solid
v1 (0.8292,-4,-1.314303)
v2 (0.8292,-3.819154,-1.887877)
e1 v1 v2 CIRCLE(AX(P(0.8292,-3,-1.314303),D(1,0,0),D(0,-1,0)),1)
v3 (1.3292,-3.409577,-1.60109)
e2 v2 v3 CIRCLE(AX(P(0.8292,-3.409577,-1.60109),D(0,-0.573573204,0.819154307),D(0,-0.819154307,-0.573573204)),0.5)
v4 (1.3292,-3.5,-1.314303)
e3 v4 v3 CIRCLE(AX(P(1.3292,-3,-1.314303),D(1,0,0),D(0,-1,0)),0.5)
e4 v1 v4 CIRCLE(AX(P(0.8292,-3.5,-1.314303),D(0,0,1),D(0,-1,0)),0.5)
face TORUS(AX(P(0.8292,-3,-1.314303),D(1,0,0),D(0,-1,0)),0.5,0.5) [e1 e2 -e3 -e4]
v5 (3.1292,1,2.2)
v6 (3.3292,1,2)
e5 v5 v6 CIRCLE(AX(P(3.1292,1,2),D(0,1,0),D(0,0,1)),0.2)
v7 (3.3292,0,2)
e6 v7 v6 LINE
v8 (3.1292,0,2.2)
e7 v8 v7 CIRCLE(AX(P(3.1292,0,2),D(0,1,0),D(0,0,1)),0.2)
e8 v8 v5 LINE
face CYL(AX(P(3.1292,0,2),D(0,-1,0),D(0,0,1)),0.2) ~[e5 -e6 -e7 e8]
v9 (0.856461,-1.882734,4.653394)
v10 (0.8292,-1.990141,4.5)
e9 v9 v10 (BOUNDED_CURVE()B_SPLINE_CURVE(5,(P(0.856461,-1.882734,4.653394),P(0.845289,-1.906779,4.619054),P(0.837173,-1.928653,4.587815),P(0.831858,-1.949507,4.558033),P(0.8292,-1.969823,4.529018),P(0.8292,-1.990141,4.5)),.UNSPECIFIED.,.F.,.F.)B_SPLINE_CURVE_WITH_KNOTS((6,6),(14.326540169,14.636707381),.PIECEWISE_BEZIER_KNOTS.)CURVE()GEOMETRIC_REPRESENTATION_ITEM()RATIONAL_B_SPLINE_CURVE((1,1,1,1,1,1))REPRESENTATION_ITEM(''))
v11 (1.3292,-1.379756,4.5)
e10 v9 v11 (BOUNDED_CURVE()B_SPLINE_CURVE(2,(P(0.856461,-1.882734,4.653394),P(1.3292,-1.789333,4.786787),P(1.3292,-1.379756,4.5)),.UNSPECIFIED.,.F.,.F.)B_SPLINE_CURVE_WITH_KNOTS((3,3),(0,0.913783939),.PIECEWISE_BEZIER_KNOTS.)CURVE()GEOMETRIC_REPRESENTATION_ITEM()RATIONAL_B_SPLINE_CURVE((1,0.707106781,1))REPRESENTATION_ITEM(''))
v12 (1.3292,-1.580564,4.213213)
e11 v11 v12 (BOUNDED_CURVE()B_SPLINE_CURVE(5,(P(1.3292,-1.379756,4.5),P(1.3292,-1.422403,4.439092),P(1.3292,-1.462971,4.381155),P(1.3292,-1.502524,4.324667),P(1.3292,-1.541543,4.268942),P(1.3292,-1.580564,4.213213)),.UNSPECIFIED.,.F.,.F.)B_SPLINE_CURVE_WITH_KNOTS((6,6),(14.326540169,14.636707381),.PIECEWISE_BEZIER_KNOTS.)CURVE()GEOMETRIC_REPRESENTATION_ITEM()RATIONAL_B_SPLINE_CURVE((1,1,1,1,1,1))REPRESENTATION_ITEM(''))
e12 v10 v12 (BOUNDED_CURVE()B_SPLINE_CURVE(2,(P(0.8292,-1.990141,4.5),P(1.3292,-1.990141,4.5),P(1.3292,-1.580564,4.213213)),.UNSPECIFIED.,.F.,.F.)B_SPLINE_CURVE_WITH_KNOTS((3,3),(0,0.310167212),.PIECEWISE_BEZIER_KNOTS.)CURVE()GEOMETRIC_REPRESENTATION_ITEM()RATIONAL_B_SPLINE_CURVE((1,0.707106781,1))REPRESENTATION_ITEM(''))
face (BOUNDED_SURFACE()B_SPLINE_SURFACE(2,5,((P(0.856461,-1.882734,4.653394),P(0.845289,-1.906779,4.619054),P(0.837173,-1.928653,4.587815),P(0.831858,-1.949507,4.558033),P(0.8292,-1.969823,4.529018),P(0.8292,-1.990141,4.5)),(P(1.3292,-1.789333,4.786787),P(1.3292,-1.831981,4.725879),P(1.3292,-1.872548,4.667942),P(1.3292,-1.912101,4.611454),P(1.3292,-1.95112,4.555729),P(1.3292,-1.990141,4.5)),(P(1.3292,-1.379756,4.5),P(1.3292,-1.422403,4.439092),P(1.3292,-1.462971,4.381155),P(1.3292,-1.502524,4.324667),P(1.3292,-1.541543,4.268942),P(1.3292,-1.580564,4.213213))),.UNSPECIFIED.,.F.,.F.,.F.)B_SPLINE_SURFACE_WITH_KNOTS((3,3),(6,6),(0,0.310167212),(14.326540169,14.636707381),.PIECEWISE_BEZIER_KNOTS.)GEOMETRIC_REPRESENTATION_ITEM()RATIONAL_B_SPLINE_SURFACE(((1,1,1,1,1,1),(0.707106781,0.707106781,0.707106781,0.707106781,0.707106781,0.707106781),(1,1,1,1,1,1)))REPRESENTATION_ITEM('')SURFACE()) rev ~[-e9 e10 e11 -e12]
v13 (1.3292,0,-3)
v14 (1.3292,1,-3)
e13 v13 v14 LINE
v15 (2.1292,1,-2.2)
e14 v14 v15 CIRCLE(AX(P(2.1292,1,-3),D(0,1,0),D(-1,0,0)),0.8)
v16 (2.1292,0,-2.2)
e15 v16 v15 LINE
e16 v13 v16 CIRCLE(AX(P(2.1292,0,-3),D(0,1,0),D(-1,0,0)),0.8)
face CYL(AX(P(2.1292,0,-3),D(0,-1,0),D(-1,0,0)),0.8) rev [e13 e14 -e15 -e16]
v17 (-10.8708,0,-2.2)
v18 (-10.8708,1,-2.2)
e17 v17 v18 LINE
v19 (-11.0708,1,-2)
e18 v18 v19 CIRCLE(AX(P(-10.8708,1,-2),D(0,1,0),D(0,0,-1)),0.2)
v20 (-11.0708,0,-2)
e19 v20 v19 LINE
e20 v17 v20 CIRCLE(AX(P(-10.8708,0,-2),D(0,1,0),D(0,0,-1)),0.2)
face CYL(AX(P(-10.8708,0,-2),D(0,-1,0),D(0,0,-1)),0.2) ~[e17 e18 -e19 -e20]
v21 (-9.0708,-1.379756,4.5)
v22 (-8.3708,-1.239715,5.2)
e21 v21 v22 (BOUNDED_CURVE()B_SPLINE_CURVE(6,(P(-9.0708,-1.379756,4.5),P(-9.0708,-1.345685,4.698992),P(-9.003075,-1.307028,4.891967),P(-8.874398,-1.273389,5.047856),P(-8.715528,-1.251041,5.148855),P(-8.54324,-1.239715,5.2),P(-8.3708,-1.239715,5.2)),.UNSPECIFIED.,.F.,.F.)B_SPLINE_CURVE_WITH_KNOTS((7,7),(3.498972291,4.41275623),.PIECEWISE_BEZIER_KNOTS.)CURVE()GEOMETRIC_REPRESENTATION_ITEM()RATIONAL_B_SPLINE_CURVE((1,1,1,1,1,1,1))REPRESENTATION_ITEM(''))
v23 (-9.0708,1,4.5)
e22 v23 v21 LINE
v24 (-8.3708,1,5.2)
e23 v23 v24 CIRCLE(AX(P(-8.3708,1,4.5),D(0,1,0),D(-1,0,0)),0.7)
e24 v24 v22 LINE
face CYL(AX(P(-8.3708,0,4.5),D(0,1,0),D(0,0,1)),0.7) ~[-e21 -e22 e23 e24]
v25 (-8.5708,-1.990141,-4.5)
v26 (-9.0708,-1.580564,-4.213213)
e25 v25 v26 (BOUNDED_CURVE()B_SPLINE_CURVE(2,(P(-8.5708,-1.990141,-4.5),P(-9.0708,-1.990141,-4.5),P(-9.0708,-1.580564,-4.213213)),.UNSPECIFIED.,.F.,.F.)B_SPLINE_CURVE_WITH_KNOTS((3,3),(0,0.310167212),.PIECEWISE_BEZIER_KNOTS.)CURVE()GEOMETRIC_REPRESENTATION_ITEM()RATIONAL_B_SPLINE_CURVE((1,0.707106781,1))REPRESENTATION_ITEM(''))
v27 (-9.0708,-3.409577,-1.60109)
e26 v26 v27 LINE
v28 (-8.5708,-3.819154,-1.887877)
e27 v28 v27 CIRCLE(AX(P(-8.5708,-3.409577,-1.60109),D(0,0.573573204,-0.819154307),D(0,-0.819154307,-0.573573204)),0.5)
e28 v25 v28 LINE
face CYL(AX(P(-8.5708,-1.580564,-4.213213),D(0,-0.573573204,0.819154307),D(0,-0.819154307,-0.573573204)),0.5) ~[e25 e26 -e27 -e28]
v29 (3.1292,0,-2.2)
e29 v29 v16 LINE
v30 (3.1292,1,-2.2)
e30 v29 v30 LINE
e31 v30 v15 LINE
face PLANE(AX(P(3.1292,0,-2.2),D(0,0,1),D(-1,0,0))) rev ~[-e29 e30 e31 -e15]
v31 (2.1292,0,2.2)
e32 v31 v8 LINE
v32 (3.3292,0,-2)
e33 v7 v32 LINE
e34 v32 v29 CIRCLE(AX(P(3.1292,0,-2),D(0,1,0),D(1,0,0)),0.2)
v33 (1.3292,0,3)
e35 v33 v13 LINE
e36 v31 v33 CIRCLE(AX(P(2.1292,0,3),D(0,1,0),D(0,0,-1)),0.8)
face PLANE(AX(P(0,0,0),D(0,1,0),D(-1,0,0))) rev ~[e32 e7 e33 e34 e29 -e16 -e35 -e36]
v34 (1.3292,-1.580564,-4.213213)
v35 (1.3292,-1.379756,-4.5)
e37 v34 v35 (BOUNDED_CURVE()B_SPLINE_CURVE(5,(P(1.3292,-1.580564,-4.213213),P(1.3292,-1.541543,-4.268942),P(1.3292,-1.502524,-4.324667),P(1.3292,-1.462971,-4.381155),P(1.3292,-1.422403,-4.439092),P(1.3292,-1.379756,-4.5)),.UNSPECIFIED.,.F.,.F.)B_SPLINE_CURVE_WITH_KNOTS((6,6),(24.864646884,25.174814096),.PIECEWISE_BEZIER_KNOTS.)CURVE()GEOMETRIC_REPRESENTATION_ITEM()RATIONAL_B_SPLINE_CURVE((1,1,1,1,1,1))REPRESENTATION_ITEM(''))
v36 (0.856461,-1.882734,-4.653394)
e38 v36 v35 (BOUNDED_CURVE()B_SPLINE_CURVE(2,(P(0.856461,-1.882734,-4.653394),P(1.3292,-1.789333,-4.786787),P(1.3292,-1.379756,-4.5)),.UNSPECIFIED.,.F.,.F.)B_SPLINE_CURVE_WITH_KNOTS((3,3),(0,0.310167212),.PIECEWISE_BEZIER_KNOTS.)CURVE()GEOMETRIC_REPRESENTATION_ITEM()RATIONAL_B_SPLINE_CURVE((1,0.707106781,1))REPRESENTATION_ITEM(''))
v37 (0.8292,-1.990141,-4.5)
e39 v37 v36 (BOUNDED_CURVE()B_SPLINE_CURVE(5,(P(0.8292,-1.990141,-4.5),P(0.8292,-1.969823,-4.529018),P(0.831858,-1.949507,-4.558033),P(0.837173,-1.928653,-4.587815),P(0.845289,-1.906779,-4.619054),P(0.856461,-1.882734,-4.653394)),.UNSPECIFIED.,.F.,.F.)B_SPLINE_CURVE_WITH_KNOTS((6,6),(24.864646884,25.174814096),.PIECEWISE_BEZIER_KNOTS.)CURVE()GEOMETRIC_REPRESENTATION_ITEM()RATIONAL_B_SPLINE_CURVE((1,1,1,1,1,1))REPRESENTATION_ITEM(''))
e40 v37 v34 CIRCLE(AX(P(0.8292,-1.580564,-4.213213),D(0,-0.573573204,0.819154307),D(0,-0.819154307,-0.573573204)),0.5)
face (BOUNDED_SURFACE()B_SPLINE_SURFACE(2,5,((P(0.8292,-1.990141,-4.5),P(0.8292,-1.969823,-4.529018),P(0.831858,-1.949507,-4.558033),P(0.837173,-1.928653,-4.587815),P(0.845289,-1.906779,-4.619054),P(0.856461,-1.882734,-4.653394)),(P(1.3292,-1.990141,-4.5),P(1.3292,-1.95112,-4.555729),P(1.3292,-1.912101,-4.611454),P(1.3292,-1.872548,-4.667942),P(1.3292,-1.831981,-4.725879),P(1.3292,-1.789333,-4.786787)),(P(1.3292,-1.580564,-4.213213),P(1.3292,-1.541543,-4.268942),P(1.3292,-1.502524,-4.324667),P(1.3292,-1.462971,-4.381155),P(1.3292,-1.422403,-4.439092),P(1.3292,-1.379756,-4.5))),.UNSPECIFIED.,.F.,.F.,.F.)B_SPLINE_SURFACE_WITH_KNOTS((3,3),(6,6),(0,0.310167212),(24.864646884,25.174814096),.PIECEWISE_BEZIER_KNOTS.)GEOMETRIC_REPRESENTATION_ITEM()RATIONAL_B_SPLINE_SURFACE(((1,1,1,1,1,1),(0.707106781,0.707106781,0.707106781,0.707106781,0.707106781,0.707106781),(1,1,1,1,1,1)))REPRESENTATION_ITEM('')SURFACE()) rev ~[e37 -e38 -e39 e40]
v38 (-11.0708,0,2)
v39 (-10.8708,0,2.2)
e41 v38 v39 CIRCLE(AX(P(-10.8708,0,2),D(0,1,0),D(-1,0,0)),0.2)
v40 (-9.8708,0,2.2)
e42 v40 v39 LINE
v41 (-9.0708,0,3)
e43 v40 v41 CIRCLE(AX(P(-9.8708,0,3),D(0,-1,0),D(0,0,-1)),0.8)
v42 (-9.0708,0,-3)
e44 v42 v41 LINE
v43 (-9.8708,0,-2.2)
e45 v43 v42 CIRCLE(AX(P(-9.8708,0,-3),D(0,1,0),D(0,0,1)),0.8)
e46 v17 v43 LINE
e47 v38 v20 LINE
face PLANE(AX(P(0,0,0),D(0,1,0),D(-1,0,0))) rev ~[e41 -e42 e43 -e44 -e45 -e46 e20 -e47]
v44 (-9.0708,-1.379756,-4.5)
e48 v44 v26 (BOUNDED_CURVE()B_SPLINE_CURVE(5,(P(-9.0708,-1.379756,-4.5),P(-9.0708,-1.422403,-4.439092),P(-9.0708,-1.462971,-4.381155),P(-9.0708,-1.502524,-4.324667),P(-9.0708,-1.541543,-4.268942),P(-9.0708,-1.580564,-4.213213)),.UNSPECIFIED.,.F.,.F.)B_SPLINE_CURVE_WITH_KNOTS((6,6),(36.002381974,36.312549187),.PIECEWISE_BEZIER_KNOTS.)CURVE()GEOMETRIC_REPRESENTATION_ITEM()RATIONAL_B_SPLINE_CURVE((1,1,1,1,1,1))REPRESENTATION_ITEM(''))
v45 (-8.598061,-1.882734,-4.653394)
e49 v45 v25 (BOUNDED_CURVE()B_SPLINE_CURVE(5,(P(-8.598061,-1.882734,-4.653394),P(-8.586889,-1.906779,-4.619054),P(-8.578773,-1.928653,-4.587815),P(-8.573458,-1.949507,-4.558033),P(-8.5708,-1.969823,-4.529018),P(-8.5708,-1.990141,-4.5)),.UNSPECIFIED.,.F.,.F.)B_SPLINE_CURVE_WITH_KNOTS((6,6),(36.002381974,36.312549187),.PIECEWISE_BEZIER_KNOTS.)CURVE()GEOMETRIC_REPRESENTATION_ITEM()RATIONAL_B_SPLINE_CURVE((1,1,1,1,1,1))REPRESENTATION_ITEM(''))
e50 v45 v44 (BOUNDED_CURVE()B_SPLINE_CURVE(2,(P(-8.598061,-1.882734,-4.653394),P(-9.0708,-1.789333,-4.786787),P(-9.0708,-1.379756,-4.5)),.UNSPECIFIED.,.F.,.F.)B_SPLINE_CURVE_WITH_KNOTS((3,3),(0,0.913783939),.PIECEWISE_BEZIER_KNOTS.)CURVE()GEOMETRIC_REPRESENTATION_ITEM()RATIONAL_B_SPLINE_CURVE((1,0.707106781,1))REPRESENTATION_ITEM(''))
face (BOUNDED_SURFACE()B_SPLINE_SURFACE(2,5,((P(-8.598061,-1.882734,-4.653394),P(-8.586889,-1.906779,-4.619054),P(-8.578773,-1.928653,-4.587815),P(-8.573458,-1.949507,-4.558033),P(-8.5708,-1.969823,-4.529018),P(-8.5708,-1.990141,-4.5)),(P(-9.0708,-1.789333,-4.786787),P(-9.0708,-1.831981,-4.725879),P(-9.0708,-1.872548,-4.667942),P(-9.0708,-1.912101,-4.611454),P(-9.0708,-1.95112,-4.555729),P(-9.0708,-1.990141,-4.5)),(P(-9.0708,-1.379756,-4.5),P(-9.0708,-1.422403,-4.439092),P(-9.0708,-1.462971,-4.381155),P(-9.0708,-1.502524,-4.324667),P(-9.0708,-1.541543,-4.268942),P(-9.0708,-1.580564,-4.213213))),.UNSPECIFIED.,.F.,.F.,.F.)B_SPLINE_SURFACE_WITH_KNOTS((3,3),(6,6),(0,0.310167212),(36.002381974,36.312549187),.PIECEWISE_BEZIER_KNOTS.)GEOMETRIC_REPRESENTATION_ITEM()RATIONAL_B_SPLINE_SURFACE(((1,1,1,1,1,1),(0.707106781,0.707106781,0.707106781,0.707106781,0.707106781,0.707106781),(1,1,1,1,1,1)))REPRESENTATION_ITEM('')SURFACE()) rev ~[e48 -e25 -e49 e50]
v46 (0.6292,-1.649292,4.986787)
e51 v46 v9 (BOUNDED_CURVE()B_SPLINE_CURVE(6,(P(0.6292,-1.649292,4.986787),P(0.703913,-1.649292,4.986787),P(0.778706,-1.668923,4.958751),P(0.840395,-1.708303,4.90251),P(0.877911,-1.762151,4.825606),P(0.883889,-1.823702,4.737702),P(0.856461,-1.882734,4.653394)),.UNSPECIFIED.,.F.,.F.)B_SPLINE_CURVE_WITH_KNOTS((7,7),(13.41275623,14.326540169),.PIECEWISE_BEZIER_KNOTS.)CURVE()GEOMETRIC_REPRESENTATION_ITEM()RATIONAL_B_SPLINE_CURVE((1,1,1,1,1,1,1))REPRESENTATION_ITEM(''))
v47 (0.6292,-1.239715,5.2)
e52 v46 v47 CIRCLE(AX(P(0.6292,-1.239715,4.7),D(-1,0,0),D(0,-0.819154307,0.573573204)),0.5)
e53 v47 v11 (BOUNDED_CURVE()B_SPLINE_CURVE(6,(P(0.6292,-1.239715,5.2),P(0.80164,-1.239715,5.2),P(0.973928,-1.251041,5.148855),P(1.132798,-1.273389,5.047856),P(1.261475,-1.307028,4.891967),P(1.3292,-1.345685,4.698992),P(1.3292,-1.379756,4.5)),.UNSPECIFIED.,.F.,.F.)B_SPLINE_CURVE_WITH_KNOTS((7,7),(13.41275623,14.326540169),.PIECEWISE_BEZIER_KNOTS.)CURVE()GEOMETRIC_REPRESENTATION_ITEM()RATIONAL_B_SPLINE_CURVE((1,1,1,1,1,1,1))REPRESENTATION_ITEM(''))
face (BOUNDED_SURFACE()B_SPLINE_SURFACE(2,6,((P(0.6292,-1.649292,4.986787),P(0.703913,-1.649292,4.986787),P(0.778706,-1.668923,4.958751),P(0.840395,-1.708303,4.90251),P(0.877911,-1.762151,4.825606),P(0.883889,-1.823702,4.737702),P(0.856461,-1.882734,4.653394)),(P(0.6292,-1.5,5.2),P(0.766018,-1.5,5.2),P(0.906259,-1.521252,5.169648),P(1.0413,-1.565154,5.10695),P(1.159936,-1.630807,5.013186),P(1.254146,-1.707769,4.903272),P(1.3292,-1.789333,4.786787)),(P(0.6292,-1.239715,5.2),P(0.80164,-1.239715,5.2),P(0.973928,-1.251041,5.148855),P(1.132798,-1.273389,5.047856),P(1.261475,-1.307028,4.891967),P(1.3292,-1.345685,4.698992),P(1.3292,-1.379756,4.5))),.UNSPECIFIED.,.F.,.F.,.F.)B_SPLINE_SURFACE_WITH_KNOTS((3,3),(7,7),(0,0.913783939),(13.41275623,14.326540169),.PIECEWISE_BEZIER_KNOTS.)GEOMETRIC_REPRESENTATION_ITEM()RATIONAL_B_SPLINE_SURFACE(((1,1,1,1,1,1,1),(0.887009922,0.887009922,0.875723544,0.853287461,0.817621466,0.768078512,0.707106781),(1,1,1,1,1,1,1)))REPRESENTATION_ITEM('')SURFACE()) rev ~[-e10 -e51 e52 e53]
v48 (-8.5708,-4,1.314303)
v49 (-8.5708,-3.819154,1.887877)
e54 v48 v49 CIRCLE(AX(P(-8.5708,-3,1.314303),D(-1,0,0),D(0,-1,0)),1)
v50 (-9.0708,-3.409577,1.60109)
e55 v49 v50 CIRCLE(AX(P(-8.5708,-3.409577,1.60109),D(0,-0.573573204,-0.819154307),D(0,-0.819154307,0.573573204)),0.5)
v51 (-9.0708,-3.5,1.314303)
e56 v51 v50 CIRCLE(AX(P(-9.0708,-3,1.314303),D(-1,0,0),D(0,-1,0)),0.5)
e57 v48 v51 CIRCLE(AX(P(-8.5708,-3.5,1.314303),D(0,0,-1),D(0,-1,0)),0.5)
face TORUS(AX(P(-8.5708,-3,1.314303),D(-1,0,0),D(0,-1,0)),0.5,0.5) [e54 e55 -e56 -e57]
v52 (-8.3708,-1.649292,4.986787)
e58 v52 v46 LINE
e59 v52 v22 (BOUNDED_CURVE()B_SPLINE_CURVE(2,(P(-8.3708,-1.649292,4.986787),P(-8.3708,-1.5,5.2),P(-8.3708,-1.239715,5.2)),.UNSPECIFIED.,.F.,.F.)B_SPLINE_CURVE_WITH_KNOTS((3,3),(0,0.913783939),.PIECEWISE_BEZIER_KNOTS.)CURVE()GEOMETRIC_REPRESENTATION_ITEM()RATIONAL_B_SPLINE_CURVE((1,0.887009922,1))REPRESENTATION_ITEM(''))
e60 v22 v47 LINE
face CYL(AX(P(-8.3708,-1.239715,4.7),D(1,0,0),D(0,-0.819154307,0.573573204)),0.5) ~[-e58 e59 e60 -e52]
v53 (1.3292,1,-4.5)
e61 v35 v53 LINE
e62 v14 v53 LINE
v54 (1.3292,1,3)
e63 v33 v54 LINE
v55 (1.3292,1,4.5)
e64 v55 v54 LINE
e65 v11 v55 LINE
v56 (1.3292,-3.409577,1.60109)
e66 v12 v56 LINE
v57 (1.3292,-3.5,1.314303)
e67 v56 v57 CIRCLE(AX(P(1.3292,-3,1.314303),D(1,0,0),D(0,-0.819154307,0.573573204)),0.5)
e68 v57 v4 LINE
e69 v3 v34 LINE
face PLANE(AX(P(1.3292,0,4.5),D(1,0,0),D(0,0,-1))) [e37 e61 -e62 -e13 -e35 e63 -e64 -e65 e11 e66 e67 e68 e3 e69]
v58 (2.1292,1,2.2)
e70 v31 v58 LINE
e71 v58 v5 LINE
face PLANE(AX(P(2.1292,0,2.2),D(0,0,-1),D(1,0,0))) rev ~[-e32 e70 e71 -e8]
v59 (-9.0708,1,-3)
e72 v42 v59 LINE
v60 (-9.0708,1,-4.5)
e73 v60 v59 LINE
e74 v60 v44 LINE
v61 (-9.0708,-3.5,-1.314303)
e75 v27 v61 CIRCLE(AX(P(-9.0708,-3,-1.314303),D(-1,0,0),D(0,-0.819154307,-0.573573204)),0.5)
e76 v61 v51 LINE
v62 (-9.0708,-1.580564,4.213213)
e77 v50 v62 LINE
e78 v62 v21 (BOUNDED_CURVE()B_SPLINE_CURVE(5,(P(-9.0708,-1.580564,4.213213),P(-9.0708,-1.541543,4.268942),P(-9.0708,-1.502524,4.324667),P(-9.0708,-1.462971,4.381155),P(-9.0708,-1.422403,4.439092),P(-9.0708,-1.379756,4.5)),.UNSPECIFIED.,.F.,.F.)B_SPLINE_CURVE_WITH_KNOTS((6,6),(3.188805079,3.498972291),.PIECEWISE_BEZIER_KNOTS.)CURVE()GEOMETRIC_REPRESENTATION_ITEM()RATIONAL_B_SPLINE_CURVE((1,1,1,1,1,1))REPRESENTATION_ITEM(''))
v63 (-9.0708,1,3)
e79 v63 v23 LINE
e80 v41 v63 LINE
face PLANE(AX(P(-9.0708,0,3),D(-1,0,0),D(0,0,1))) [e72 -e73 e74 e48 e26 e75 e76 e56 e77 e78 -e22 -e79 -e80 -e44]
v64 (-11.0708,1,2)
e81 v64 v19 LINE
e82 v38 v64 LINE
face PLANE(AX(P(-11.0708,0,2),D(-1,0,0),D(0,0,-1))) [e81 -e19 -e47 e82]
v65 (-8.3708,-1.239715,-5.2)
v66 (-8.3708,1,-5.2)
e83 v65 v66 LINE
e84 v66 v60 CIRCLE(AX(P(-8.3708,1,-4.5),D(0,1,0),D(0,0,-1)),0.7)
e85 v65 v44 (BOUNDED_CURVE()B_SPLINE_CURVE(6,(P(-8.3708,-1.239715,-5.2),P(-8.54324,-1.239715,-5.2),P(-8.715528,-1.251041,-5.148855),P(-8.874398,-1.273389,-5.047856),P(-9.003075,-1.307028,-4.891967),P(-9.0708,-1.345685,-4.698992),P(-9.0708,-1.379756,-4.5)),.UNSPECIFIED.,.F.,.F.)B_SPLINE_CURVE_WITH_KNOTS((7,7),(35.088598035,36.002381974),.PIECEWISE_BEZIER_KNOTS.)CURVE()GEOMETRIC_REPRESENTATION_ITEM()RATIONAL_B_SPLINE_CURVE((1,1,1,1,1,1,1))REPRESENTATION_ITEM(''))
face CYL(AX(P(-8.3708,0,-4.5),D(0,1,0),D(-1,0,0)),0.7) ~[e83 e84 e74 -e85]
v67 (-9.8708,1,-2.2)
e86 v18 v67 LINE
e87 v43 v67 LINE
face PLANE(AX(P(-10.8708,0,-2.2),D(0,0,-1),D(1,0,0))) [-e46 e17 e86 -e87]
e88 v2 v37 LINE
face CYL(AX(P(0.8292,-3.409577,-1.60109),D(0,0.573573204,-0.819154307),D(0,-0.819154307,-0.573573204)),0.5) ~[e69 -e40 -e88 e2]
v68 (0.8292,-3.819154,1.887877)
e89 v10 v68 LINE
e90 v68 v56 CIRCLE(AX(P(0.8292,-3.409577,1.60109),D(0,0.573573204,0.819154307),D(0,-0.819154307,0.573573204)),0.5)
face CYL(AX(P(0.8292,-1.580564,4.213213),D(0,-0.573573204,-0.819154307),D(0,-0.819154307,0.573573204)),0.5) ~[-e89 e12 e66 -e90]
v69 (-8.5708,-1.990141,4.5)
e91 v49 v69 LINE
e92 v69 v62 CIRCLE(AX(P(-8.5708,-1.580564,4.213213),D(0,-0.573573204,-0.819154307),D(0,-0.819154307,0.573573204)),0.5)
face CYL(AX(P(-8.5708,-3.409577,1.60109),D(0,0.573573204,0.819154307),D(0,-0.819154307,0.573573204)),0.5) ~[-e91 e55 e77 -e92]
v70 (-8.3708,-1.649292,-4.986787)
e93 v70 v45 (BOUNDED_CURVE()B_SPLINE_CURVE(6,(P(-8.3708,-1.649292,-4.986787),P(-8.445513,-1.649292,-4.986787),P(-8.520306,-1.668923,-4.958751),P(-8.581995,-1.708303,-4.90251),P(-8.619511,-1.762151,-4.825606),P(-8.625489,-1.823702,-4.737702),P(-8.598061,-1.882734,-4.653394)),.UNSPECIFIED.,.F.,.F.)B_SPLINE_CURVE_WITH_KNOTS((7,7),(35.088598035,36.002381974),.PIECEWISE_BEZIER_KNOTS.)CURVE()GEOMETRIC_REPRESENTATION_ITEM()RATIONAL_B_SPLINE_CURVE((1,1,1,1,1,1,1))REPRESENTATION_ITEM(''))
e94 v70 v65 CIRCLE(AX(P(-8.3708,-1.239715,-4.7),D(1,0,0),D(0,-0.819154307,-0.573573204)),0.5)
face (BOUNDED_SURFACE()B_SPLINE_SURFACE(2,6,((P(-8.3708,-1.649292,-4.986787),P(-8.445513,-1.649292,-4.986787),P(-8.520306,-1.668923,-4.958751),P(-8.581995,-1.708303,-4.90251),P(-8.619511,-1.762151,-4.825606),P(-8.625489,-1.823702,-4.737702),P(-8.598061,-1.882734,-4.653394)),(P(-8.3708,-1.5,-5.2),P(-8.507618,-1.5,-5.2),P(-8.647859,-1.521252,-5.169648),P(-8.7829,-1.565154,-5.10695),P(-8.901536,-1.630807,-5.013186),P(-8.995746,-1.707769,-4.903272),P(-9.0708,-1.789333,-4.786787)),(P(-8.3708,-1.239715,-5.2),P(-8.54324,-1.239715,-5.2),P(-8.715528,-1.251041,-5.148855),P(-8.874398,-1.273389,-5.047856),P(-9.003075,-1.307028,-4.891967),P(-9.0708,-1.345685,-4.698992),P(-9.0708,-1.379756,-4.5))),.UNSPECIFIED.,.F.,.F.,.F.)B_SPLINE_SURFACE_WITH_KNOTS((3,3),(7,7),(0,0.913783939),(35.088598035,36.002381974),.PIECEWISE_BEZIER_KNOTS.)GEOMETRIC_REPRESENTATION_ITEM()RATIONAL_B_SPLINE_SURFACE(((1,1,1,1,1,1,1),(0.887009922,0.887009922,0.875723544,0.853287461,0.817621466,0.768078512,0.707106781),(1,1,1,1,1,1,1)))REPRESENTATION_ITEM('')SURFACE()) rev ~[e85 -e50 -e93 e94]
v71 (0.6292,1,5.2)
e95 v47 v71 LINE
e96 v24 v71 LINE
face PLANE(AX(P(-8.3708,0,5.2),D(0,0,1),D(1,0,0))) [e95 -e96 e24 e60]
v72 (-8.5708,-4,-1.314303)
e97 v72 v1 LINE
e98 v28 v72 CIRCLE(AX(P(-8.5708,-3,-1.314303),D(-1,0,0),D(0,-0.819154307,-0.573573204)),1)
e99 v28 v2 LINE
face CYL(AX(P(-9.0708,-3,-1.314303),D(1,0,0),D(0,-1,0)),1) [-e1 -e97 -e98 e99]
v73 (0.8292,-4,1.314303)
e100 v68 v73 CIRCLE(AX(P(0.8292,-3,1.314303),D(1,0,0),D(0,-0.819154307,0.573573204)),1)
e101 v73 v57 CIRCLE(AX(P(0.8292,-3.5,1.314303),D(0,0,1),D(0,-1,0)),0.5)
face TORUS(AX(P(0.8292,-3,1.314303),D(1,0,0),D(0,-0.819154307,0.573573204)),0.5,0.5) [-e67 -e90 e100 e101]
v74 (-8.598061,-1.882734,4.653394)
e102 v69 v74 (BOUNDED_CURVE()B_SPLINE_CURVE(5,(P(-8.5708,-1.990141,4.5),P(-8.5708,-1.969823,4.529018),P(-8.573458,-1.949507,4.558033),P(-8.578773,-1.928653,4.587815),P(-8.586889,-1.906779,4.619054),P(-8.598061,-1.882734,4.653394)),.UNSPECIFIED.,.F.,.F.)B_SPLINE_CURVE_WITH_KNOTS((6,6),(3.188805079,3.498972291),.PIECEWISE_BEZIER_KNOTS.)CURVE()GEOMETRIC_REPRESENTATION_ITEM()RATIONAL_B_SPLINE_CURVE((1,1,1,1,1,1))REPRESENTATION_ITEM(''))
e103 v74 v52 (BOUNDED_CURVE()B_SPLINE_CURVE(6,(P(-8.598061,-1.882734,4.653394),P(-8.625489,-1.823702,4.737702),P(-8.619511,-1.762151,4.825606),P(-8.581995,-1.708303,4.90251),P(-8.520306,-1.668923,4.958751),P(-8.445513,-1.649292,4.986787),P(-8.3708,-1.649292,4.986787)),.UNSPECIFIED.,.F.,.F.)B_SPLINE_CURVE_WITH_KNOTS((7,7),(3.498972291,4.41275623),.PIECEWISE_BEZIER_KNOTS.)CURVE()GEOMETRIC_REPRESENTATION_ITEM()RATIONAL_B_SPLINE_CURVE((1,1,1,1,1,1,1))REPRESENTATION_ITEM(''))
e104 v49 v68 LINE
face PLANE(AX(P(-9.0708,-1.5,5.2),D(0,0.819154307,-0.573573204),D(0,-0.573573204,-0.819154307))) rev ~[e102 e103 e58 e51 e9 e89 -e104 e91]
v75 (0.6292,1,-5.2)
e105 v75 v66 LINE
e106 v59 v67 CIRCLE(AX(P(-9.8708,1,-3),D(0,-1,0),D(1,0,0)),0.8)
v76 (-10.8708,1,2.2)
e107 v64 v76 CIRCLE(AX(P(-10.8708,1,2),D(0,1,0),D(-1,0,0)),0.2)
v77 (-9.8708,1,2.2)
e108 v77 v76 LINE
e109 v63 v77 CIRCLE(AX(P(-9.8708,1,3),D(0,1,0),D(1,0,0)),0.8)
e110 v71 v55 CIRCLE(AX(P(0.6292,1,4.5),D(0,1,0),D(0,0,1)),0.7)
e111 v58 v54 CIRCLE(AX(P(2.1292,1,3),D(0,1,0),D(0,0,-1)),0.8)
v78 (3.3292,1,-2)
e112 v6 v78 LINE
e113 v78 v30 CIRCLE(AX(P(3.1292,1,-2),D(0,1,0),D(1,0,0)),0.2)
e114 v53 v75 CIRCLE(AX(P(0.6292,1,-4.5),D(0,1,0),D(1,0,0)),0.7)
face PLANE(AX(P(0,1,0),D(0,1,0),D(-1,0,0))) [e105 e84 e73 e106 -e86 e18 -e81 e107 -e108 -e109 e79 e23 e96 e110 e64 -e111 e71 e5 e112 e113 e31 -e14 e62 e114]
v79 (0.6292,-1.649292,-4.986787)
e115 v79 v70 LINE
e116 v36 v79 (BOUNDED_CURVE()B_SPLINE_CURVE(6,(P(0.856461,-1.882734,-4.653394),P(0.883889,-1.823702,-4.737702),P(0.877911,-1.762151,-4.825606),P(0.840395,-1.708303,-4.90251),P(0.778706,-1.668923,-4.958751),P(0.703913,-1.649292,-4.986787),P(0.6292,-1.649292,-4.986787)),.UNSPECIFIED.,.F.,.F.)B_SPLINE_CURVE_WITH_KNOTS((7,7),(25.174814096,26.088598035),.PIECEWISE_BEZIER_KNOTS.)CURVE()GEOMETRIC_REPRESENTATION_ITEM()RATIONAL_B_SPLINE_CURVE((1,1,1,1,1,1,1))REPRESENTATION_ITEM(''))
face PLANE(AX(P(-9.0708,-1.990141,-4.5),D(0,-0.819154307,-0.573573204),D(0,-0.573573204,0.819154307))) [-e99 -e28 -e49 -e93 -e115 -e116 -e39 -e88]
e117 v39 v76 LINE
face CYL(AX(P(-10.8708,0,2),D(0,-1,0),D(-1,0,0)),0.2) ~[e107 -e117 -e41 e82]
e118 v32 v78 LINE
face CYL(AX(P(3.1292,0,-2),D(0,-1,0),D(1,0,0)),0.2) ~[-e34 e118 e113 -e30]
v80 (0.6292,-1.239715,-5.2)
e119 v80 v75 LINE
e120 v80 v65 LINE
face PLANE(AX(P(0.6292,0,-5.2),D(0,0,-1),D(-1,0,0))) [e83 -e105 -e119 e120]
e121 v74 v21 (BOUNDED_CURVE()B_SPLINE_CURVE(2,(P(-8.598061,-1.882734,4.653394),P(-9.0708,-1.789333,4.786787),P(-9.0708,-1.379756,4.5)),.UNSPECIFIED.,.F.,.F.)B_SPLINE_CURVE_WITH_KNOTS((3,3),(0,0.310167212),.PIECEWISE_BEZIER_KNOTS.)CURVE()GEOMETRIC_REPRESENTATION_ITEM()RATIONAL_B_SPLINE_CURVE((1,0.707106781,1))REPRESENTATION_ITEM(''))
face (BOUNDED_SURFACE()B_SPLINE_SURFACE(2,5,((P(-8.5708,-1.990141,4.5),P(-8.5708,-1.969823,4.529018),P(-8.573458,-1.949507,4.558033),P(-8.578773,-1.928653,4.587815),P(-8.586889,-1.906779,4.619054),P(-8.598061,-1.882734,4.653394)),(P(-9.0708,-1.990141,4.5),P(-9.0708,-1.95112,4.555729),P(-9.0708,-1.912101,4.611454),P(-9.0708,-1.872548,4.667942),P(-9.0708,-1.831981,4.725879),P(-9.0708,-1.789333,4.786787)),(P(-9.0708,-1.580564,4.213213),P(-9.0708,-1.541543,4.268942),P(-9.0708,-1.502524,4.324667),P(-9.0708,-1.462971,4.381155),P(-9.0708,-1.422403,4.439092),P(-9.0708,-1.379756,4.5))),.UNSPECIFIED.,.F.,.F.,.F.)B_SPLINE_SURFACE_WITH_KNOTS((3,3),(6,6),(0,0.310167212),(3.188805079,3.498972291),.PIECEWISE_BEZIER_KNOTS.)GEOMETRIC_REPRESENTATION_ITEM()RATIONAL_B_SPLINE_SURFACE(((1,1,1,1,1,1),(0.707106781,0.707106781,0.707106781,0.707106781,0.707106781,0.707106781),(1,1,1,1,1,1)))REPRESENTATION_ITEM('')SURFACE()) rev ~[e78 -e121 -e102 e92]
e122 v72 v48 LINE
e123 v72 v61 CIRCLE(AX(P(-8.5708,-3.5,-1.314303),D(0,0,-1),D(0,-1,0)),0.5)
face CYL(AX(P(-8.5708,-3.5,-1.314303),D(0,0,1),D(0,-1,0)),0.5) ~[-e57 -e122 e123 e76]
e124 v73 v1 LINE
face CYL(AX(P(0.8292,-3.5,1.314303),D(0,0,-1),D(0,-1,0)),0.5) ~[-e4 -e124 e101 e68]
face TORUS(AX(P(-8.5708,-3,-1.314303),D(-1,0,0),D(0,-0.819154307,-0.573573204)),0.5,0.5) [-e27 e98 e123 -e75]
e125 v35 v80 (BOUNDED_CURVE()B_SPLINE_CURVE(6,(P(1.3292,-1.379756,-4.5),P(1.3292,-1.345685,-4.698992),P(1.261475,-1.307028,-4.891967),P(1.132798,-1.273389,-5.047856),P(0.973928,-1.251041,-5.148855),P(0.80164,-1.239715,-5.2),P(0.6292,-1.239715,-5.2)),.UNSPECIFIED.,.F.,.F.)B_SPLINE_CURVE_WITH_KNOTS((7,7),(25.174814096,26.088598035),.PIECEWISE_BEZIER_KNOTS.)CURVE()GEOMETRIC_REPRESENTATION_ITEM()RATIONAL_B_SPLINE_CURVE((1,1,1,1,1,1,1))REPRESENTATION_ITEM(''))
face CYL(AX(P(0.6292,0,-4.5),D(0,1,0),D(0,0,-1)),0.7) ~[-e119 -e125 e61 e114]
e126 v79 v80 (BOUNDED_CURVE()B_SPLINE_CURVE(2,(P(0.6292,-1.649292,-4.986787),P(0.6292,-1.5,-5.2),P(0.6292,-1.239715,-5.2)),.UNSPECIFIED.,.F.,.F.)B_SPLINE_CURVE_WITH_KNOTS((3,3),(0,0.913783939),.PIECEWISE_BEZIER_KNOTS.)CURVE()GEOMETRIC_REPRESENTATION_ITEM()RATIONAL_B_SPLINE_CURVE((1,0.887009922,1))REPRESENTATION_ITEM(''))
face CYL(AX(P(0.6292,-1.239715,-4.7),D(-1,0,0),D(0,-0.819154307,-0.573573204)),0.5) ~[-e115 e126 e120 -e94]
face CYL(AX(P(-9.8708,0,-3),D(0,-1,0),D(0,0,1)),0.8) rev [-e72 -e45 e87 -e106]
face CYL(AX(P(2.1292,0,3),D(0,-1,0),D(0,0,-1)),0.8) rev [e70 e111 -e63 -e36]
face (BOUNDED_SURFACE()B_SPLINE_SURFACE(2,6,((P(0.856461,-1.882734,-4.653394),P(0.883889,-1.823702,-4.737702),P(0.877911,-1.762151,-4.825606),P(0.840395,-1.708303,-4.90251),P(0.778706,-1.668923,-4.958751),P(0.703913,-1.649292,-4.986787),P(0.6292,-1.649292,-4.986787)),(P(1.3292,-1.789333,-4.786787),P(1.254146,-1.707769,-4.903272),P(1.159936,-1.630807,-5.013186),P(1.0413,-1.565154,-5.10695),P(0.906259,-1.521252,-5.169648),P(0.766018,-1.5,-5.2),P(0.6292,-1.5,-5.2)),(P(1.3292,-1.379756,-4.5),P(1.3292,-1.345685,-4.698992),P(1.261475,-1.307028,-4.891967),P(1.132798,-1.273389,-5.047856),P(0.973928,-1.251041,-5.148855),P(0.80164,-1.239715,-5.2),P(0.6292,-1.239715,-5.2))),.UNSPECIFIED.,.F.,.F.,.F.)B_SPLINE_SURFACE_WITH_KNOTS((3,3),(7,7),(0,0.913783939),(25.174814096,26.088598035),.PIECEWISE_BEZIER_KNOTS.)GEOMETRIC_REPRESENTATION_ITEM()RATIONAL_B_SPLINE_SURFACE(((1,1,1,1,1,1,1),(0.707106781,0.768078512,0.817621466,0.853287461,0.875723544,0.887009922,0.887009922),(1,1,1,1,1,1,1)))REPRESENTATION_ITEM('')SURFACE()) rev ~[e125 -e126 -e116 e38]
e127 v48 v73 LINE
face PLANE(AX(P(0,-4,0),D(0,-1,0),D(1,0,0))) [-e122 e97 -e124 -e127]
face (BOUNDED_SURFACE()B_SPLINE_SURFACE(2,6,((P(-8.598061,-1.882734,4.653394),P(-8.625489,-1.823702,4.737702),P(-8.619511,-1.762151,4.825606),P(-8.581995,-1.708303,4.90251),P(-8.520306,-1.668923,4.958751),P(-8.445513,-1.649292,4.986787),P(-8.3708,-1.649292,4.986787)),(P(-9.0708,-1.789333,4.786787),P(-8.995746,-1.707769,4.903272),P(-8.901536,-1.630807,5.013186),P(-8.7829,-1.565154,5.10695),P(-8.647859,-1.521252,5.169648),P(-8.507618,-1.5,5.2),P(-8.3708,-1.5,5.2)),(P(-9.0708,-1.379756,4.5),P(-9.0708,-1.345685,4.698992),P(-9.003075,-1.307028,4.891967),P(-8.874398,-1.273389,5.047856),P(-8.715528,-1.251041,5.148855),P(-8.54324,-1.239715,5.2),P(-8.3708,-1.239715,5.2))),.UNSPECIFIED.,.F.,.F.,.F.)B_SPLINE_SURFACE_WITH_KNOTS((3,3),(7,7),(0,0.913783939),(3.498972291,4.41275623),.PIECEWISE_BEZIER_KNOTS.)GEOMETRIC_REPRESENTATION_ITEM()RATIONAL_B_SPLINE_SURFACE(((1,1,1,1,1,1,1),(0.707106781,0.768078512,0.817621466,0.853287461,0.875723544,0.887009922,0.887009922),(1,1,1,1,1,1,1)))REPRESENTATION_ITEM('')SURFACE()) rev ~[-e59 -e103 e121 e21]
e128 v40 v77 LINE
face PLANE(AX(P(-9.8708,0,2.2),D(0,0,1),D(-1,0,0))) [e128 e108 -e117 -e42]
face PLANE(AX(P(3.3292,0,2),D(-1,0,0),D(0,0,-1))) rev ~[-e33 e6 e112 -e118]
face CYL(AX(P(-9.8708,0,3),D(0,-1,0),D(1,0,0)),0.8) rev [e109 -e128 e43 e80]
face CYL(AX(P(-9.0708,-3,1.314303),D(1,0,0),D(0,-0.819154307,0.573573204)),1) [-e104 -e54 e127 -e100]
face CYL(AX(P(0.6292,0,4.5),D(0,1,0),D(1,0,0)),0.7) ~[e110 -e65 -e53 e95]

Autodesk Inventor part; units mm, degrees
ref_plane "YZ Plane" through (0, 0, 0) normal (1, 0, 0) x (0, 1, 0)
ref_plane "XZ Plane" through (0, 0, 0) normal (0, 1, 0) x (-1, 0, 0)
ref_plane "XY Plane" through (0, 0, 0) normal (0, 0, 1) x (1, 0, 0)
sketch "Эскиз1" plane through (0, 0, 0) normal (0, 1, 0) x (-1, 0, 0)
  line L0 (9.3708, 3) -> (9.3708, -3) projected
  line L1 (9.3708, -3) -> (9.3708, -4.5) projected
  arc A0 (8.3708, -5.5) -> (9.3708, -4.5) centre (8.3708, -4.5) ccw projected
  line L2 (8.3708, -5.5) -> (-0.6292, -5.5) projected
  arc A1 (-1.6292, -4.5) -> (-0.6292, -5.5) centre (-0.6292, -4.5) ccw projected
  line L3 (-1.6292, -4.5) -> (-1.6292, -3) projected
  arc A2 (-1.6292, -3) -> (-2.1292, -2.5) centre (-2.1292, -3) ccw projected
  line L4 (-3.1292, -2.5) -> (-2.1292, -2.5) projected
  arc A3 (-3.6292, -2) -> (-3.1292, -2.5) centre (-3.1292, -2) ccw projected
  line L5 (-3.6292, 2) -> (-3.6292, -2) projected
  arc A4 (-3.1292, 2.5) -> (-3.6292, 2) centre (-3.1292, 2) ccw projected
  line L6 (-2.1292, 2.5) -> (-3.1292, 2.5) projected
  arc A5 (-2.1292, 2.5) -> (-1.6292, 3) centre (-2.1292, 3) ccw projected
  line L7 (-1.6292, 3) -> (-1.6292, 4.5) projected
  arc A6 (-0.6292, 5.5) -> (-1.6292, 4.5) centre (-0.6292, 4.5) ccw projected
  line L8 (-0.6292, 5.5) -> (8.3708, 5.5) projected
  arc A7 (9.3708, 4.5) -> (8.3708, 5.5) centre (8.3708, 4.5) ccw projected
  line L9 (9.3708, 4.5) -> (9.3708, 3) projected
  arc A8 (6.8708, 1.5) -> (5.3708, 3) centre (5.3708, 1.5) ccw projected
  line L10 (2.3708, 3) -> (5.3708, 3) projected
  arc A9 (2.3708, 3) -> (0.8708, 1.5) centre (2.3708, 1.5) ccw projected
  line L11 (0.8708, -1.5) -> (0.8708, 1.5) projected
  arc A10 (0.8708, -1.5) -> (2.3708, -3) centre (2.3708, -1.5) ccw projected
  line L12 (5.3708, -3) -> (2.3708, -3) projected
  arc A11 (5.3708, -3) -> (6.8708, -1.5) centre (5.3708, -1.5) ccw projected
  line L13 (6.8708, 1.5) -> (6.8708, -1.5) projected
  arc A12 (9.8708, -2.5) -> (9.3708, -3) centre (9.8708, -3) ccw projected
  line L14 (9.3708, 3) -> (9.3708, -3) projected
  arc A13 (9.3708, 3) -> (9.8708, 2.5) centre (9.8708, 3) ccw projected
  line L15 (10.8708, 2.5) -> (9.8708, 2.5) projected
  arc A14 (11.3708, 2) -> (10.8708, 2.5) centre (10.8708, 2) ccw projected
  line L16 (11.3708, -2) -> (11.3708, 2) projected
  arc A15 (10.8708, -2.5) -> (11.3708, -2) centre (10.8708, -2) ccw projected
  line L17 (9.8708, -2.5) -> (10.8708, -2.5) projected
  line L18 (9.0708, 3) -> (9.0708, 4.5)
  arc A16 (9.0708, 4.5) -> (8.3708, 5.2) centre (8.3708, 4.5) ccw
  line L19 (8.3708, 5.2) -> (-0.6292, 5.2)
  arc A17 (-0.6292, 5.2) -> (-1.3292, 4.5) centre (-0.6292, 4.5) ccw
  line L20 (-1.3292, 4.5) -> (-1.3292, 3)
  arc A18 (-2.1292, 2.2) -> (-1.3292, 3) centre (-2.1292, 3) ccw
  line L21 (-2.1292, 2.2) -> (-3.1292, 2.2)
  arc A19 (-3.1292, 2.2) -> (-3.3292, 2) centre (-3.1292, 2) ccw
  line L22 (-3.3292, 2) -> (-3.3292, -2)
  arc A20 (-3.3292, -2) -> (-3.1292, -2.2) centre (-3.1292, -2) ccw
  line L23 (-3.1292, -2.2) -> (-2.1292, -2.2)
  arc A21 (-1.3292, -3) -> (-2.1292, -2.2) centre (-2.1292, -3) ccw
  line L24 (-1.3292, -3) -> (-1.3292, -4.5)
  arc A22 (-1.3292, -4.5) -> (-0.6292, -5.2) centre (-0.6292, -4.5) ccw
  line L25 (-0.6292, -5.2) -> (8.3708, -5.2)
  arc A23 (8.3708, -5.2) -> (9.0708, -4.5) centre (8.3708, -4.5) ccw
  line L26 (9.0708, -4.5) -> (9.0708, -3)
  arc A24 (9.0708, 3) -> (9.8708, 2.2) centre (9.8708, 3) ccw
  line L27 (9.8708, 2.2) -> (10.8708, 2.2)
  arc A25 (11.0708, 2) -> (10.8708, 2.2) centre (10.8708, 2) ccw
  line L28 (11.0708, 2) -> (11.0708, -2)
  arc A26 (10.8708, -2.2) -> (11.0708, -2) centre (10.8708, -2) ccw
  line L29 (10.8708, -2.2) -> (9.8708, -2.2)
  arc A27 (9.8708, -2.2) -> (9.0708, -3) centre (9.8708, -3) ccw
  point P0 (0, 0)
  dimension "d0" = 0.3
  dimension "d1" = 0.3
extrude "Выдавливание1" add sketch "Эскиз1" along normal blind 1 contours A24 L27 A25 L28 A26 L29 A27 L0 | L0 A27 L26 A23 L25 A22 L24 A21 L23 A20 L22 A19 L21 A18 L20 A17 L19 A16 L18 A24 | L13 A11 L12 A10 L11 A9 L10 A8
sketch "Эскиз2" plane through (0, 0, 0) normal (0, -1, 0) x (1, 0, 0)
  arc A0 (-8.3708, 5.2) -> (-9.0708, 4.5) centre (-8.3708, 4.5) ccw projected
  line L0 (-9.0708, 3) -> (-9.0708, 4.5) projected
  arc A1 (-9.8708, 2.2) -> (-9.0708, 3) centre (-9.8708, 3) ccw projected
  line L1 (-10.8708, 2.2) -> (-9.8708, 2.2) projected
  arc A2 (-10.8708, 2.2) -> (-11.0708, 2) centre (-10.8708, 2) ccw projected
  line L2 (-11.0708, -2) -> (-11.0708, 2) projected
  arc A3 (-11.0708, -2) -> (-10.8708, -2.2) centre (-10.8708, -2) ccw projected
  line L3 (-9.8708, -2.2) -> (-10.8708, -2.2) projected
  arc A4 (-9.0708, -3) -> (-9.8708, -2.2) centre (-9.8708, -3) ccw projected
  line L4 (-9.0708, -4.5) -> (-9.0708, -3) projected
  arc A5 (-9.0708, -4.5) -> (-8.3708, -5.2) centre (-8.3708, -4.5) ccw projected
  line L5 (0.6292, -5.2) -> (-8.3708, -5.2) projected
  arc A6 (0.6292, -5.2) -> (1.3292, -4.5) centre (0.6292, -4.5) ccw projected
  line L6 (1.3292, -3) -> (1.3292, -4.5) projected
  arc A7 (2.1292, -2.2) -> (1.3292, -3) centre (2.1292, -3) ccw projected
  line L7 (3.1292, -2.2) -> (2.1292, -2.2) projected
  arc A8 (3.1292, -2.2) -> (3.3292, -2) centre (3.1292, -2) ccw projected
  line L8 (3.3292, 2) -> (3.3292, -2) projected
  arc A9 (3.3292, 2) -> (3.1292, 2.2) centre (3.1292, 2) ccw projected
  line L9 (2.1292, 2.2) -> (3.1292, 2.2) projected
  arc A10 (1.3292, 3) -> (2.1292, 2.2) centre (2.1292, 3) ccw projected
  line L10 (1.3292, 4.5) -> (1.3292, 3) projected
  arc A11 (1.3292, 4.5) -> (0.6292, 5.2) centre (0.6292, 4.5) ccw projected
  line L11 (-8.3708, 5.2) -> (0.6292, 5.2) projected
  arc A12 (-9.8708, 2.2) -> (-9.0708, 3) centre (-9.8708, 3) ccw projected
  line L12 (-9.0708, -3) -> (-9.0708, 3)
  line L13 (1.3292, 3) -> (1.3292, -3)
  point P0 (0, 0)
extrude "Выдавливание2" add sketch "Эскиз2" along normal blind 4 contours L11 A11 L10 L13 L6 A6 L5 A5 L4 L12 L0 A0
sketch "Эскиз3" plane through (-9.0708, 0, -3) normal (-1, 0, 0) x (0, 0, 1)
  line L0 (0, 0) -> (0, 1) projected
  line L1 (-1.5, 1) -> (0, 1) projected
  line L2 (-1.5, -4) -> (-1.5, 1) projected
  line L3 (7.5, -4) -> (-1.5, -4) projected
  line L4 (7.5, 1) -> (7.5, -4) projected
  line L5 (6, 1) -> (7.5, 1) projected
  line L6 (6, 0) -> (6, 1) projected
  line L7 (0, 0) -> (6, 0) projected
  line L8 (7.5, 1) -> (8.2, 1) projected
  line L9 (7.5, 1) -> (7.5, -4) projected
  line L10 (-1.5, -4) -> (-1.5, 1) projected
  line L11 (-2.2, 1) -> (-1.5, 1) projected
  line L12 (-2.2, -4) -> (-2.2, 1) projected
  line L13 (-1.5, -4) -> (-2.2, -4) projected
  line L14 (8.2, 1) -> (7.5, 1) projected
  line L15 (8.2, -1.5) -> (4.6296, -4)
  line L16 (7.5, -4) -> (-1.5, -4) projected
  line L17 (-1.5, 1) -> (-2.2, 1) projected
  line L18 (-2.2, 1) -> (-2.2, -1.5)
  line L19 (-2.2, -4) -> (-2.2, 1) projected
  line L20 (-2.2, -1.5) -> (1.3704, -4)
  line L21 (7.5, 1) -> (7.5, -4) projected
  line L22 (8.2, -4) -> (8.2, 1) projected
  line L23 (7.5, -4) -> (8.2, -4) projected
  line L24 (8.2, 1) -> (8.2, -1.5)
  point P0 (3, 0)
  point P1 (-2.2, -1.5)
  dimension "d8" = 2.5
  dimension "d9" = 35
  dimension "d10" = 35
  dimension "d14" = 2.5
extrude "Выдавливание3" cut sketch "Эскиз3" against normal blind 15 contours L20 L3 L2 | L2 L13 L12 L20 | L15 L22 L23 L4 | L4 L3 L15
fillet "Сопряжение2" radius 1 2 edges at (-3.8708, -4, -1.6296) (-3.8708, -4, 1.6296)
fillet "Сопряжение3" radius 0.5 8 edges at (-9.0708, -2.9046, 3.194) (-8.8657, -1.6436, 4.995) (-3.8708, -1.5, 5.2) (1.1242, -1.6436, 4.995) (1.3292, -2.9046, 3.194) (1.1242, -1.6436, -4.995) (-3.8708, -1.5, -5.2) (-8.8657, -1.6436, -4.995)
properties part number "pinatel"
